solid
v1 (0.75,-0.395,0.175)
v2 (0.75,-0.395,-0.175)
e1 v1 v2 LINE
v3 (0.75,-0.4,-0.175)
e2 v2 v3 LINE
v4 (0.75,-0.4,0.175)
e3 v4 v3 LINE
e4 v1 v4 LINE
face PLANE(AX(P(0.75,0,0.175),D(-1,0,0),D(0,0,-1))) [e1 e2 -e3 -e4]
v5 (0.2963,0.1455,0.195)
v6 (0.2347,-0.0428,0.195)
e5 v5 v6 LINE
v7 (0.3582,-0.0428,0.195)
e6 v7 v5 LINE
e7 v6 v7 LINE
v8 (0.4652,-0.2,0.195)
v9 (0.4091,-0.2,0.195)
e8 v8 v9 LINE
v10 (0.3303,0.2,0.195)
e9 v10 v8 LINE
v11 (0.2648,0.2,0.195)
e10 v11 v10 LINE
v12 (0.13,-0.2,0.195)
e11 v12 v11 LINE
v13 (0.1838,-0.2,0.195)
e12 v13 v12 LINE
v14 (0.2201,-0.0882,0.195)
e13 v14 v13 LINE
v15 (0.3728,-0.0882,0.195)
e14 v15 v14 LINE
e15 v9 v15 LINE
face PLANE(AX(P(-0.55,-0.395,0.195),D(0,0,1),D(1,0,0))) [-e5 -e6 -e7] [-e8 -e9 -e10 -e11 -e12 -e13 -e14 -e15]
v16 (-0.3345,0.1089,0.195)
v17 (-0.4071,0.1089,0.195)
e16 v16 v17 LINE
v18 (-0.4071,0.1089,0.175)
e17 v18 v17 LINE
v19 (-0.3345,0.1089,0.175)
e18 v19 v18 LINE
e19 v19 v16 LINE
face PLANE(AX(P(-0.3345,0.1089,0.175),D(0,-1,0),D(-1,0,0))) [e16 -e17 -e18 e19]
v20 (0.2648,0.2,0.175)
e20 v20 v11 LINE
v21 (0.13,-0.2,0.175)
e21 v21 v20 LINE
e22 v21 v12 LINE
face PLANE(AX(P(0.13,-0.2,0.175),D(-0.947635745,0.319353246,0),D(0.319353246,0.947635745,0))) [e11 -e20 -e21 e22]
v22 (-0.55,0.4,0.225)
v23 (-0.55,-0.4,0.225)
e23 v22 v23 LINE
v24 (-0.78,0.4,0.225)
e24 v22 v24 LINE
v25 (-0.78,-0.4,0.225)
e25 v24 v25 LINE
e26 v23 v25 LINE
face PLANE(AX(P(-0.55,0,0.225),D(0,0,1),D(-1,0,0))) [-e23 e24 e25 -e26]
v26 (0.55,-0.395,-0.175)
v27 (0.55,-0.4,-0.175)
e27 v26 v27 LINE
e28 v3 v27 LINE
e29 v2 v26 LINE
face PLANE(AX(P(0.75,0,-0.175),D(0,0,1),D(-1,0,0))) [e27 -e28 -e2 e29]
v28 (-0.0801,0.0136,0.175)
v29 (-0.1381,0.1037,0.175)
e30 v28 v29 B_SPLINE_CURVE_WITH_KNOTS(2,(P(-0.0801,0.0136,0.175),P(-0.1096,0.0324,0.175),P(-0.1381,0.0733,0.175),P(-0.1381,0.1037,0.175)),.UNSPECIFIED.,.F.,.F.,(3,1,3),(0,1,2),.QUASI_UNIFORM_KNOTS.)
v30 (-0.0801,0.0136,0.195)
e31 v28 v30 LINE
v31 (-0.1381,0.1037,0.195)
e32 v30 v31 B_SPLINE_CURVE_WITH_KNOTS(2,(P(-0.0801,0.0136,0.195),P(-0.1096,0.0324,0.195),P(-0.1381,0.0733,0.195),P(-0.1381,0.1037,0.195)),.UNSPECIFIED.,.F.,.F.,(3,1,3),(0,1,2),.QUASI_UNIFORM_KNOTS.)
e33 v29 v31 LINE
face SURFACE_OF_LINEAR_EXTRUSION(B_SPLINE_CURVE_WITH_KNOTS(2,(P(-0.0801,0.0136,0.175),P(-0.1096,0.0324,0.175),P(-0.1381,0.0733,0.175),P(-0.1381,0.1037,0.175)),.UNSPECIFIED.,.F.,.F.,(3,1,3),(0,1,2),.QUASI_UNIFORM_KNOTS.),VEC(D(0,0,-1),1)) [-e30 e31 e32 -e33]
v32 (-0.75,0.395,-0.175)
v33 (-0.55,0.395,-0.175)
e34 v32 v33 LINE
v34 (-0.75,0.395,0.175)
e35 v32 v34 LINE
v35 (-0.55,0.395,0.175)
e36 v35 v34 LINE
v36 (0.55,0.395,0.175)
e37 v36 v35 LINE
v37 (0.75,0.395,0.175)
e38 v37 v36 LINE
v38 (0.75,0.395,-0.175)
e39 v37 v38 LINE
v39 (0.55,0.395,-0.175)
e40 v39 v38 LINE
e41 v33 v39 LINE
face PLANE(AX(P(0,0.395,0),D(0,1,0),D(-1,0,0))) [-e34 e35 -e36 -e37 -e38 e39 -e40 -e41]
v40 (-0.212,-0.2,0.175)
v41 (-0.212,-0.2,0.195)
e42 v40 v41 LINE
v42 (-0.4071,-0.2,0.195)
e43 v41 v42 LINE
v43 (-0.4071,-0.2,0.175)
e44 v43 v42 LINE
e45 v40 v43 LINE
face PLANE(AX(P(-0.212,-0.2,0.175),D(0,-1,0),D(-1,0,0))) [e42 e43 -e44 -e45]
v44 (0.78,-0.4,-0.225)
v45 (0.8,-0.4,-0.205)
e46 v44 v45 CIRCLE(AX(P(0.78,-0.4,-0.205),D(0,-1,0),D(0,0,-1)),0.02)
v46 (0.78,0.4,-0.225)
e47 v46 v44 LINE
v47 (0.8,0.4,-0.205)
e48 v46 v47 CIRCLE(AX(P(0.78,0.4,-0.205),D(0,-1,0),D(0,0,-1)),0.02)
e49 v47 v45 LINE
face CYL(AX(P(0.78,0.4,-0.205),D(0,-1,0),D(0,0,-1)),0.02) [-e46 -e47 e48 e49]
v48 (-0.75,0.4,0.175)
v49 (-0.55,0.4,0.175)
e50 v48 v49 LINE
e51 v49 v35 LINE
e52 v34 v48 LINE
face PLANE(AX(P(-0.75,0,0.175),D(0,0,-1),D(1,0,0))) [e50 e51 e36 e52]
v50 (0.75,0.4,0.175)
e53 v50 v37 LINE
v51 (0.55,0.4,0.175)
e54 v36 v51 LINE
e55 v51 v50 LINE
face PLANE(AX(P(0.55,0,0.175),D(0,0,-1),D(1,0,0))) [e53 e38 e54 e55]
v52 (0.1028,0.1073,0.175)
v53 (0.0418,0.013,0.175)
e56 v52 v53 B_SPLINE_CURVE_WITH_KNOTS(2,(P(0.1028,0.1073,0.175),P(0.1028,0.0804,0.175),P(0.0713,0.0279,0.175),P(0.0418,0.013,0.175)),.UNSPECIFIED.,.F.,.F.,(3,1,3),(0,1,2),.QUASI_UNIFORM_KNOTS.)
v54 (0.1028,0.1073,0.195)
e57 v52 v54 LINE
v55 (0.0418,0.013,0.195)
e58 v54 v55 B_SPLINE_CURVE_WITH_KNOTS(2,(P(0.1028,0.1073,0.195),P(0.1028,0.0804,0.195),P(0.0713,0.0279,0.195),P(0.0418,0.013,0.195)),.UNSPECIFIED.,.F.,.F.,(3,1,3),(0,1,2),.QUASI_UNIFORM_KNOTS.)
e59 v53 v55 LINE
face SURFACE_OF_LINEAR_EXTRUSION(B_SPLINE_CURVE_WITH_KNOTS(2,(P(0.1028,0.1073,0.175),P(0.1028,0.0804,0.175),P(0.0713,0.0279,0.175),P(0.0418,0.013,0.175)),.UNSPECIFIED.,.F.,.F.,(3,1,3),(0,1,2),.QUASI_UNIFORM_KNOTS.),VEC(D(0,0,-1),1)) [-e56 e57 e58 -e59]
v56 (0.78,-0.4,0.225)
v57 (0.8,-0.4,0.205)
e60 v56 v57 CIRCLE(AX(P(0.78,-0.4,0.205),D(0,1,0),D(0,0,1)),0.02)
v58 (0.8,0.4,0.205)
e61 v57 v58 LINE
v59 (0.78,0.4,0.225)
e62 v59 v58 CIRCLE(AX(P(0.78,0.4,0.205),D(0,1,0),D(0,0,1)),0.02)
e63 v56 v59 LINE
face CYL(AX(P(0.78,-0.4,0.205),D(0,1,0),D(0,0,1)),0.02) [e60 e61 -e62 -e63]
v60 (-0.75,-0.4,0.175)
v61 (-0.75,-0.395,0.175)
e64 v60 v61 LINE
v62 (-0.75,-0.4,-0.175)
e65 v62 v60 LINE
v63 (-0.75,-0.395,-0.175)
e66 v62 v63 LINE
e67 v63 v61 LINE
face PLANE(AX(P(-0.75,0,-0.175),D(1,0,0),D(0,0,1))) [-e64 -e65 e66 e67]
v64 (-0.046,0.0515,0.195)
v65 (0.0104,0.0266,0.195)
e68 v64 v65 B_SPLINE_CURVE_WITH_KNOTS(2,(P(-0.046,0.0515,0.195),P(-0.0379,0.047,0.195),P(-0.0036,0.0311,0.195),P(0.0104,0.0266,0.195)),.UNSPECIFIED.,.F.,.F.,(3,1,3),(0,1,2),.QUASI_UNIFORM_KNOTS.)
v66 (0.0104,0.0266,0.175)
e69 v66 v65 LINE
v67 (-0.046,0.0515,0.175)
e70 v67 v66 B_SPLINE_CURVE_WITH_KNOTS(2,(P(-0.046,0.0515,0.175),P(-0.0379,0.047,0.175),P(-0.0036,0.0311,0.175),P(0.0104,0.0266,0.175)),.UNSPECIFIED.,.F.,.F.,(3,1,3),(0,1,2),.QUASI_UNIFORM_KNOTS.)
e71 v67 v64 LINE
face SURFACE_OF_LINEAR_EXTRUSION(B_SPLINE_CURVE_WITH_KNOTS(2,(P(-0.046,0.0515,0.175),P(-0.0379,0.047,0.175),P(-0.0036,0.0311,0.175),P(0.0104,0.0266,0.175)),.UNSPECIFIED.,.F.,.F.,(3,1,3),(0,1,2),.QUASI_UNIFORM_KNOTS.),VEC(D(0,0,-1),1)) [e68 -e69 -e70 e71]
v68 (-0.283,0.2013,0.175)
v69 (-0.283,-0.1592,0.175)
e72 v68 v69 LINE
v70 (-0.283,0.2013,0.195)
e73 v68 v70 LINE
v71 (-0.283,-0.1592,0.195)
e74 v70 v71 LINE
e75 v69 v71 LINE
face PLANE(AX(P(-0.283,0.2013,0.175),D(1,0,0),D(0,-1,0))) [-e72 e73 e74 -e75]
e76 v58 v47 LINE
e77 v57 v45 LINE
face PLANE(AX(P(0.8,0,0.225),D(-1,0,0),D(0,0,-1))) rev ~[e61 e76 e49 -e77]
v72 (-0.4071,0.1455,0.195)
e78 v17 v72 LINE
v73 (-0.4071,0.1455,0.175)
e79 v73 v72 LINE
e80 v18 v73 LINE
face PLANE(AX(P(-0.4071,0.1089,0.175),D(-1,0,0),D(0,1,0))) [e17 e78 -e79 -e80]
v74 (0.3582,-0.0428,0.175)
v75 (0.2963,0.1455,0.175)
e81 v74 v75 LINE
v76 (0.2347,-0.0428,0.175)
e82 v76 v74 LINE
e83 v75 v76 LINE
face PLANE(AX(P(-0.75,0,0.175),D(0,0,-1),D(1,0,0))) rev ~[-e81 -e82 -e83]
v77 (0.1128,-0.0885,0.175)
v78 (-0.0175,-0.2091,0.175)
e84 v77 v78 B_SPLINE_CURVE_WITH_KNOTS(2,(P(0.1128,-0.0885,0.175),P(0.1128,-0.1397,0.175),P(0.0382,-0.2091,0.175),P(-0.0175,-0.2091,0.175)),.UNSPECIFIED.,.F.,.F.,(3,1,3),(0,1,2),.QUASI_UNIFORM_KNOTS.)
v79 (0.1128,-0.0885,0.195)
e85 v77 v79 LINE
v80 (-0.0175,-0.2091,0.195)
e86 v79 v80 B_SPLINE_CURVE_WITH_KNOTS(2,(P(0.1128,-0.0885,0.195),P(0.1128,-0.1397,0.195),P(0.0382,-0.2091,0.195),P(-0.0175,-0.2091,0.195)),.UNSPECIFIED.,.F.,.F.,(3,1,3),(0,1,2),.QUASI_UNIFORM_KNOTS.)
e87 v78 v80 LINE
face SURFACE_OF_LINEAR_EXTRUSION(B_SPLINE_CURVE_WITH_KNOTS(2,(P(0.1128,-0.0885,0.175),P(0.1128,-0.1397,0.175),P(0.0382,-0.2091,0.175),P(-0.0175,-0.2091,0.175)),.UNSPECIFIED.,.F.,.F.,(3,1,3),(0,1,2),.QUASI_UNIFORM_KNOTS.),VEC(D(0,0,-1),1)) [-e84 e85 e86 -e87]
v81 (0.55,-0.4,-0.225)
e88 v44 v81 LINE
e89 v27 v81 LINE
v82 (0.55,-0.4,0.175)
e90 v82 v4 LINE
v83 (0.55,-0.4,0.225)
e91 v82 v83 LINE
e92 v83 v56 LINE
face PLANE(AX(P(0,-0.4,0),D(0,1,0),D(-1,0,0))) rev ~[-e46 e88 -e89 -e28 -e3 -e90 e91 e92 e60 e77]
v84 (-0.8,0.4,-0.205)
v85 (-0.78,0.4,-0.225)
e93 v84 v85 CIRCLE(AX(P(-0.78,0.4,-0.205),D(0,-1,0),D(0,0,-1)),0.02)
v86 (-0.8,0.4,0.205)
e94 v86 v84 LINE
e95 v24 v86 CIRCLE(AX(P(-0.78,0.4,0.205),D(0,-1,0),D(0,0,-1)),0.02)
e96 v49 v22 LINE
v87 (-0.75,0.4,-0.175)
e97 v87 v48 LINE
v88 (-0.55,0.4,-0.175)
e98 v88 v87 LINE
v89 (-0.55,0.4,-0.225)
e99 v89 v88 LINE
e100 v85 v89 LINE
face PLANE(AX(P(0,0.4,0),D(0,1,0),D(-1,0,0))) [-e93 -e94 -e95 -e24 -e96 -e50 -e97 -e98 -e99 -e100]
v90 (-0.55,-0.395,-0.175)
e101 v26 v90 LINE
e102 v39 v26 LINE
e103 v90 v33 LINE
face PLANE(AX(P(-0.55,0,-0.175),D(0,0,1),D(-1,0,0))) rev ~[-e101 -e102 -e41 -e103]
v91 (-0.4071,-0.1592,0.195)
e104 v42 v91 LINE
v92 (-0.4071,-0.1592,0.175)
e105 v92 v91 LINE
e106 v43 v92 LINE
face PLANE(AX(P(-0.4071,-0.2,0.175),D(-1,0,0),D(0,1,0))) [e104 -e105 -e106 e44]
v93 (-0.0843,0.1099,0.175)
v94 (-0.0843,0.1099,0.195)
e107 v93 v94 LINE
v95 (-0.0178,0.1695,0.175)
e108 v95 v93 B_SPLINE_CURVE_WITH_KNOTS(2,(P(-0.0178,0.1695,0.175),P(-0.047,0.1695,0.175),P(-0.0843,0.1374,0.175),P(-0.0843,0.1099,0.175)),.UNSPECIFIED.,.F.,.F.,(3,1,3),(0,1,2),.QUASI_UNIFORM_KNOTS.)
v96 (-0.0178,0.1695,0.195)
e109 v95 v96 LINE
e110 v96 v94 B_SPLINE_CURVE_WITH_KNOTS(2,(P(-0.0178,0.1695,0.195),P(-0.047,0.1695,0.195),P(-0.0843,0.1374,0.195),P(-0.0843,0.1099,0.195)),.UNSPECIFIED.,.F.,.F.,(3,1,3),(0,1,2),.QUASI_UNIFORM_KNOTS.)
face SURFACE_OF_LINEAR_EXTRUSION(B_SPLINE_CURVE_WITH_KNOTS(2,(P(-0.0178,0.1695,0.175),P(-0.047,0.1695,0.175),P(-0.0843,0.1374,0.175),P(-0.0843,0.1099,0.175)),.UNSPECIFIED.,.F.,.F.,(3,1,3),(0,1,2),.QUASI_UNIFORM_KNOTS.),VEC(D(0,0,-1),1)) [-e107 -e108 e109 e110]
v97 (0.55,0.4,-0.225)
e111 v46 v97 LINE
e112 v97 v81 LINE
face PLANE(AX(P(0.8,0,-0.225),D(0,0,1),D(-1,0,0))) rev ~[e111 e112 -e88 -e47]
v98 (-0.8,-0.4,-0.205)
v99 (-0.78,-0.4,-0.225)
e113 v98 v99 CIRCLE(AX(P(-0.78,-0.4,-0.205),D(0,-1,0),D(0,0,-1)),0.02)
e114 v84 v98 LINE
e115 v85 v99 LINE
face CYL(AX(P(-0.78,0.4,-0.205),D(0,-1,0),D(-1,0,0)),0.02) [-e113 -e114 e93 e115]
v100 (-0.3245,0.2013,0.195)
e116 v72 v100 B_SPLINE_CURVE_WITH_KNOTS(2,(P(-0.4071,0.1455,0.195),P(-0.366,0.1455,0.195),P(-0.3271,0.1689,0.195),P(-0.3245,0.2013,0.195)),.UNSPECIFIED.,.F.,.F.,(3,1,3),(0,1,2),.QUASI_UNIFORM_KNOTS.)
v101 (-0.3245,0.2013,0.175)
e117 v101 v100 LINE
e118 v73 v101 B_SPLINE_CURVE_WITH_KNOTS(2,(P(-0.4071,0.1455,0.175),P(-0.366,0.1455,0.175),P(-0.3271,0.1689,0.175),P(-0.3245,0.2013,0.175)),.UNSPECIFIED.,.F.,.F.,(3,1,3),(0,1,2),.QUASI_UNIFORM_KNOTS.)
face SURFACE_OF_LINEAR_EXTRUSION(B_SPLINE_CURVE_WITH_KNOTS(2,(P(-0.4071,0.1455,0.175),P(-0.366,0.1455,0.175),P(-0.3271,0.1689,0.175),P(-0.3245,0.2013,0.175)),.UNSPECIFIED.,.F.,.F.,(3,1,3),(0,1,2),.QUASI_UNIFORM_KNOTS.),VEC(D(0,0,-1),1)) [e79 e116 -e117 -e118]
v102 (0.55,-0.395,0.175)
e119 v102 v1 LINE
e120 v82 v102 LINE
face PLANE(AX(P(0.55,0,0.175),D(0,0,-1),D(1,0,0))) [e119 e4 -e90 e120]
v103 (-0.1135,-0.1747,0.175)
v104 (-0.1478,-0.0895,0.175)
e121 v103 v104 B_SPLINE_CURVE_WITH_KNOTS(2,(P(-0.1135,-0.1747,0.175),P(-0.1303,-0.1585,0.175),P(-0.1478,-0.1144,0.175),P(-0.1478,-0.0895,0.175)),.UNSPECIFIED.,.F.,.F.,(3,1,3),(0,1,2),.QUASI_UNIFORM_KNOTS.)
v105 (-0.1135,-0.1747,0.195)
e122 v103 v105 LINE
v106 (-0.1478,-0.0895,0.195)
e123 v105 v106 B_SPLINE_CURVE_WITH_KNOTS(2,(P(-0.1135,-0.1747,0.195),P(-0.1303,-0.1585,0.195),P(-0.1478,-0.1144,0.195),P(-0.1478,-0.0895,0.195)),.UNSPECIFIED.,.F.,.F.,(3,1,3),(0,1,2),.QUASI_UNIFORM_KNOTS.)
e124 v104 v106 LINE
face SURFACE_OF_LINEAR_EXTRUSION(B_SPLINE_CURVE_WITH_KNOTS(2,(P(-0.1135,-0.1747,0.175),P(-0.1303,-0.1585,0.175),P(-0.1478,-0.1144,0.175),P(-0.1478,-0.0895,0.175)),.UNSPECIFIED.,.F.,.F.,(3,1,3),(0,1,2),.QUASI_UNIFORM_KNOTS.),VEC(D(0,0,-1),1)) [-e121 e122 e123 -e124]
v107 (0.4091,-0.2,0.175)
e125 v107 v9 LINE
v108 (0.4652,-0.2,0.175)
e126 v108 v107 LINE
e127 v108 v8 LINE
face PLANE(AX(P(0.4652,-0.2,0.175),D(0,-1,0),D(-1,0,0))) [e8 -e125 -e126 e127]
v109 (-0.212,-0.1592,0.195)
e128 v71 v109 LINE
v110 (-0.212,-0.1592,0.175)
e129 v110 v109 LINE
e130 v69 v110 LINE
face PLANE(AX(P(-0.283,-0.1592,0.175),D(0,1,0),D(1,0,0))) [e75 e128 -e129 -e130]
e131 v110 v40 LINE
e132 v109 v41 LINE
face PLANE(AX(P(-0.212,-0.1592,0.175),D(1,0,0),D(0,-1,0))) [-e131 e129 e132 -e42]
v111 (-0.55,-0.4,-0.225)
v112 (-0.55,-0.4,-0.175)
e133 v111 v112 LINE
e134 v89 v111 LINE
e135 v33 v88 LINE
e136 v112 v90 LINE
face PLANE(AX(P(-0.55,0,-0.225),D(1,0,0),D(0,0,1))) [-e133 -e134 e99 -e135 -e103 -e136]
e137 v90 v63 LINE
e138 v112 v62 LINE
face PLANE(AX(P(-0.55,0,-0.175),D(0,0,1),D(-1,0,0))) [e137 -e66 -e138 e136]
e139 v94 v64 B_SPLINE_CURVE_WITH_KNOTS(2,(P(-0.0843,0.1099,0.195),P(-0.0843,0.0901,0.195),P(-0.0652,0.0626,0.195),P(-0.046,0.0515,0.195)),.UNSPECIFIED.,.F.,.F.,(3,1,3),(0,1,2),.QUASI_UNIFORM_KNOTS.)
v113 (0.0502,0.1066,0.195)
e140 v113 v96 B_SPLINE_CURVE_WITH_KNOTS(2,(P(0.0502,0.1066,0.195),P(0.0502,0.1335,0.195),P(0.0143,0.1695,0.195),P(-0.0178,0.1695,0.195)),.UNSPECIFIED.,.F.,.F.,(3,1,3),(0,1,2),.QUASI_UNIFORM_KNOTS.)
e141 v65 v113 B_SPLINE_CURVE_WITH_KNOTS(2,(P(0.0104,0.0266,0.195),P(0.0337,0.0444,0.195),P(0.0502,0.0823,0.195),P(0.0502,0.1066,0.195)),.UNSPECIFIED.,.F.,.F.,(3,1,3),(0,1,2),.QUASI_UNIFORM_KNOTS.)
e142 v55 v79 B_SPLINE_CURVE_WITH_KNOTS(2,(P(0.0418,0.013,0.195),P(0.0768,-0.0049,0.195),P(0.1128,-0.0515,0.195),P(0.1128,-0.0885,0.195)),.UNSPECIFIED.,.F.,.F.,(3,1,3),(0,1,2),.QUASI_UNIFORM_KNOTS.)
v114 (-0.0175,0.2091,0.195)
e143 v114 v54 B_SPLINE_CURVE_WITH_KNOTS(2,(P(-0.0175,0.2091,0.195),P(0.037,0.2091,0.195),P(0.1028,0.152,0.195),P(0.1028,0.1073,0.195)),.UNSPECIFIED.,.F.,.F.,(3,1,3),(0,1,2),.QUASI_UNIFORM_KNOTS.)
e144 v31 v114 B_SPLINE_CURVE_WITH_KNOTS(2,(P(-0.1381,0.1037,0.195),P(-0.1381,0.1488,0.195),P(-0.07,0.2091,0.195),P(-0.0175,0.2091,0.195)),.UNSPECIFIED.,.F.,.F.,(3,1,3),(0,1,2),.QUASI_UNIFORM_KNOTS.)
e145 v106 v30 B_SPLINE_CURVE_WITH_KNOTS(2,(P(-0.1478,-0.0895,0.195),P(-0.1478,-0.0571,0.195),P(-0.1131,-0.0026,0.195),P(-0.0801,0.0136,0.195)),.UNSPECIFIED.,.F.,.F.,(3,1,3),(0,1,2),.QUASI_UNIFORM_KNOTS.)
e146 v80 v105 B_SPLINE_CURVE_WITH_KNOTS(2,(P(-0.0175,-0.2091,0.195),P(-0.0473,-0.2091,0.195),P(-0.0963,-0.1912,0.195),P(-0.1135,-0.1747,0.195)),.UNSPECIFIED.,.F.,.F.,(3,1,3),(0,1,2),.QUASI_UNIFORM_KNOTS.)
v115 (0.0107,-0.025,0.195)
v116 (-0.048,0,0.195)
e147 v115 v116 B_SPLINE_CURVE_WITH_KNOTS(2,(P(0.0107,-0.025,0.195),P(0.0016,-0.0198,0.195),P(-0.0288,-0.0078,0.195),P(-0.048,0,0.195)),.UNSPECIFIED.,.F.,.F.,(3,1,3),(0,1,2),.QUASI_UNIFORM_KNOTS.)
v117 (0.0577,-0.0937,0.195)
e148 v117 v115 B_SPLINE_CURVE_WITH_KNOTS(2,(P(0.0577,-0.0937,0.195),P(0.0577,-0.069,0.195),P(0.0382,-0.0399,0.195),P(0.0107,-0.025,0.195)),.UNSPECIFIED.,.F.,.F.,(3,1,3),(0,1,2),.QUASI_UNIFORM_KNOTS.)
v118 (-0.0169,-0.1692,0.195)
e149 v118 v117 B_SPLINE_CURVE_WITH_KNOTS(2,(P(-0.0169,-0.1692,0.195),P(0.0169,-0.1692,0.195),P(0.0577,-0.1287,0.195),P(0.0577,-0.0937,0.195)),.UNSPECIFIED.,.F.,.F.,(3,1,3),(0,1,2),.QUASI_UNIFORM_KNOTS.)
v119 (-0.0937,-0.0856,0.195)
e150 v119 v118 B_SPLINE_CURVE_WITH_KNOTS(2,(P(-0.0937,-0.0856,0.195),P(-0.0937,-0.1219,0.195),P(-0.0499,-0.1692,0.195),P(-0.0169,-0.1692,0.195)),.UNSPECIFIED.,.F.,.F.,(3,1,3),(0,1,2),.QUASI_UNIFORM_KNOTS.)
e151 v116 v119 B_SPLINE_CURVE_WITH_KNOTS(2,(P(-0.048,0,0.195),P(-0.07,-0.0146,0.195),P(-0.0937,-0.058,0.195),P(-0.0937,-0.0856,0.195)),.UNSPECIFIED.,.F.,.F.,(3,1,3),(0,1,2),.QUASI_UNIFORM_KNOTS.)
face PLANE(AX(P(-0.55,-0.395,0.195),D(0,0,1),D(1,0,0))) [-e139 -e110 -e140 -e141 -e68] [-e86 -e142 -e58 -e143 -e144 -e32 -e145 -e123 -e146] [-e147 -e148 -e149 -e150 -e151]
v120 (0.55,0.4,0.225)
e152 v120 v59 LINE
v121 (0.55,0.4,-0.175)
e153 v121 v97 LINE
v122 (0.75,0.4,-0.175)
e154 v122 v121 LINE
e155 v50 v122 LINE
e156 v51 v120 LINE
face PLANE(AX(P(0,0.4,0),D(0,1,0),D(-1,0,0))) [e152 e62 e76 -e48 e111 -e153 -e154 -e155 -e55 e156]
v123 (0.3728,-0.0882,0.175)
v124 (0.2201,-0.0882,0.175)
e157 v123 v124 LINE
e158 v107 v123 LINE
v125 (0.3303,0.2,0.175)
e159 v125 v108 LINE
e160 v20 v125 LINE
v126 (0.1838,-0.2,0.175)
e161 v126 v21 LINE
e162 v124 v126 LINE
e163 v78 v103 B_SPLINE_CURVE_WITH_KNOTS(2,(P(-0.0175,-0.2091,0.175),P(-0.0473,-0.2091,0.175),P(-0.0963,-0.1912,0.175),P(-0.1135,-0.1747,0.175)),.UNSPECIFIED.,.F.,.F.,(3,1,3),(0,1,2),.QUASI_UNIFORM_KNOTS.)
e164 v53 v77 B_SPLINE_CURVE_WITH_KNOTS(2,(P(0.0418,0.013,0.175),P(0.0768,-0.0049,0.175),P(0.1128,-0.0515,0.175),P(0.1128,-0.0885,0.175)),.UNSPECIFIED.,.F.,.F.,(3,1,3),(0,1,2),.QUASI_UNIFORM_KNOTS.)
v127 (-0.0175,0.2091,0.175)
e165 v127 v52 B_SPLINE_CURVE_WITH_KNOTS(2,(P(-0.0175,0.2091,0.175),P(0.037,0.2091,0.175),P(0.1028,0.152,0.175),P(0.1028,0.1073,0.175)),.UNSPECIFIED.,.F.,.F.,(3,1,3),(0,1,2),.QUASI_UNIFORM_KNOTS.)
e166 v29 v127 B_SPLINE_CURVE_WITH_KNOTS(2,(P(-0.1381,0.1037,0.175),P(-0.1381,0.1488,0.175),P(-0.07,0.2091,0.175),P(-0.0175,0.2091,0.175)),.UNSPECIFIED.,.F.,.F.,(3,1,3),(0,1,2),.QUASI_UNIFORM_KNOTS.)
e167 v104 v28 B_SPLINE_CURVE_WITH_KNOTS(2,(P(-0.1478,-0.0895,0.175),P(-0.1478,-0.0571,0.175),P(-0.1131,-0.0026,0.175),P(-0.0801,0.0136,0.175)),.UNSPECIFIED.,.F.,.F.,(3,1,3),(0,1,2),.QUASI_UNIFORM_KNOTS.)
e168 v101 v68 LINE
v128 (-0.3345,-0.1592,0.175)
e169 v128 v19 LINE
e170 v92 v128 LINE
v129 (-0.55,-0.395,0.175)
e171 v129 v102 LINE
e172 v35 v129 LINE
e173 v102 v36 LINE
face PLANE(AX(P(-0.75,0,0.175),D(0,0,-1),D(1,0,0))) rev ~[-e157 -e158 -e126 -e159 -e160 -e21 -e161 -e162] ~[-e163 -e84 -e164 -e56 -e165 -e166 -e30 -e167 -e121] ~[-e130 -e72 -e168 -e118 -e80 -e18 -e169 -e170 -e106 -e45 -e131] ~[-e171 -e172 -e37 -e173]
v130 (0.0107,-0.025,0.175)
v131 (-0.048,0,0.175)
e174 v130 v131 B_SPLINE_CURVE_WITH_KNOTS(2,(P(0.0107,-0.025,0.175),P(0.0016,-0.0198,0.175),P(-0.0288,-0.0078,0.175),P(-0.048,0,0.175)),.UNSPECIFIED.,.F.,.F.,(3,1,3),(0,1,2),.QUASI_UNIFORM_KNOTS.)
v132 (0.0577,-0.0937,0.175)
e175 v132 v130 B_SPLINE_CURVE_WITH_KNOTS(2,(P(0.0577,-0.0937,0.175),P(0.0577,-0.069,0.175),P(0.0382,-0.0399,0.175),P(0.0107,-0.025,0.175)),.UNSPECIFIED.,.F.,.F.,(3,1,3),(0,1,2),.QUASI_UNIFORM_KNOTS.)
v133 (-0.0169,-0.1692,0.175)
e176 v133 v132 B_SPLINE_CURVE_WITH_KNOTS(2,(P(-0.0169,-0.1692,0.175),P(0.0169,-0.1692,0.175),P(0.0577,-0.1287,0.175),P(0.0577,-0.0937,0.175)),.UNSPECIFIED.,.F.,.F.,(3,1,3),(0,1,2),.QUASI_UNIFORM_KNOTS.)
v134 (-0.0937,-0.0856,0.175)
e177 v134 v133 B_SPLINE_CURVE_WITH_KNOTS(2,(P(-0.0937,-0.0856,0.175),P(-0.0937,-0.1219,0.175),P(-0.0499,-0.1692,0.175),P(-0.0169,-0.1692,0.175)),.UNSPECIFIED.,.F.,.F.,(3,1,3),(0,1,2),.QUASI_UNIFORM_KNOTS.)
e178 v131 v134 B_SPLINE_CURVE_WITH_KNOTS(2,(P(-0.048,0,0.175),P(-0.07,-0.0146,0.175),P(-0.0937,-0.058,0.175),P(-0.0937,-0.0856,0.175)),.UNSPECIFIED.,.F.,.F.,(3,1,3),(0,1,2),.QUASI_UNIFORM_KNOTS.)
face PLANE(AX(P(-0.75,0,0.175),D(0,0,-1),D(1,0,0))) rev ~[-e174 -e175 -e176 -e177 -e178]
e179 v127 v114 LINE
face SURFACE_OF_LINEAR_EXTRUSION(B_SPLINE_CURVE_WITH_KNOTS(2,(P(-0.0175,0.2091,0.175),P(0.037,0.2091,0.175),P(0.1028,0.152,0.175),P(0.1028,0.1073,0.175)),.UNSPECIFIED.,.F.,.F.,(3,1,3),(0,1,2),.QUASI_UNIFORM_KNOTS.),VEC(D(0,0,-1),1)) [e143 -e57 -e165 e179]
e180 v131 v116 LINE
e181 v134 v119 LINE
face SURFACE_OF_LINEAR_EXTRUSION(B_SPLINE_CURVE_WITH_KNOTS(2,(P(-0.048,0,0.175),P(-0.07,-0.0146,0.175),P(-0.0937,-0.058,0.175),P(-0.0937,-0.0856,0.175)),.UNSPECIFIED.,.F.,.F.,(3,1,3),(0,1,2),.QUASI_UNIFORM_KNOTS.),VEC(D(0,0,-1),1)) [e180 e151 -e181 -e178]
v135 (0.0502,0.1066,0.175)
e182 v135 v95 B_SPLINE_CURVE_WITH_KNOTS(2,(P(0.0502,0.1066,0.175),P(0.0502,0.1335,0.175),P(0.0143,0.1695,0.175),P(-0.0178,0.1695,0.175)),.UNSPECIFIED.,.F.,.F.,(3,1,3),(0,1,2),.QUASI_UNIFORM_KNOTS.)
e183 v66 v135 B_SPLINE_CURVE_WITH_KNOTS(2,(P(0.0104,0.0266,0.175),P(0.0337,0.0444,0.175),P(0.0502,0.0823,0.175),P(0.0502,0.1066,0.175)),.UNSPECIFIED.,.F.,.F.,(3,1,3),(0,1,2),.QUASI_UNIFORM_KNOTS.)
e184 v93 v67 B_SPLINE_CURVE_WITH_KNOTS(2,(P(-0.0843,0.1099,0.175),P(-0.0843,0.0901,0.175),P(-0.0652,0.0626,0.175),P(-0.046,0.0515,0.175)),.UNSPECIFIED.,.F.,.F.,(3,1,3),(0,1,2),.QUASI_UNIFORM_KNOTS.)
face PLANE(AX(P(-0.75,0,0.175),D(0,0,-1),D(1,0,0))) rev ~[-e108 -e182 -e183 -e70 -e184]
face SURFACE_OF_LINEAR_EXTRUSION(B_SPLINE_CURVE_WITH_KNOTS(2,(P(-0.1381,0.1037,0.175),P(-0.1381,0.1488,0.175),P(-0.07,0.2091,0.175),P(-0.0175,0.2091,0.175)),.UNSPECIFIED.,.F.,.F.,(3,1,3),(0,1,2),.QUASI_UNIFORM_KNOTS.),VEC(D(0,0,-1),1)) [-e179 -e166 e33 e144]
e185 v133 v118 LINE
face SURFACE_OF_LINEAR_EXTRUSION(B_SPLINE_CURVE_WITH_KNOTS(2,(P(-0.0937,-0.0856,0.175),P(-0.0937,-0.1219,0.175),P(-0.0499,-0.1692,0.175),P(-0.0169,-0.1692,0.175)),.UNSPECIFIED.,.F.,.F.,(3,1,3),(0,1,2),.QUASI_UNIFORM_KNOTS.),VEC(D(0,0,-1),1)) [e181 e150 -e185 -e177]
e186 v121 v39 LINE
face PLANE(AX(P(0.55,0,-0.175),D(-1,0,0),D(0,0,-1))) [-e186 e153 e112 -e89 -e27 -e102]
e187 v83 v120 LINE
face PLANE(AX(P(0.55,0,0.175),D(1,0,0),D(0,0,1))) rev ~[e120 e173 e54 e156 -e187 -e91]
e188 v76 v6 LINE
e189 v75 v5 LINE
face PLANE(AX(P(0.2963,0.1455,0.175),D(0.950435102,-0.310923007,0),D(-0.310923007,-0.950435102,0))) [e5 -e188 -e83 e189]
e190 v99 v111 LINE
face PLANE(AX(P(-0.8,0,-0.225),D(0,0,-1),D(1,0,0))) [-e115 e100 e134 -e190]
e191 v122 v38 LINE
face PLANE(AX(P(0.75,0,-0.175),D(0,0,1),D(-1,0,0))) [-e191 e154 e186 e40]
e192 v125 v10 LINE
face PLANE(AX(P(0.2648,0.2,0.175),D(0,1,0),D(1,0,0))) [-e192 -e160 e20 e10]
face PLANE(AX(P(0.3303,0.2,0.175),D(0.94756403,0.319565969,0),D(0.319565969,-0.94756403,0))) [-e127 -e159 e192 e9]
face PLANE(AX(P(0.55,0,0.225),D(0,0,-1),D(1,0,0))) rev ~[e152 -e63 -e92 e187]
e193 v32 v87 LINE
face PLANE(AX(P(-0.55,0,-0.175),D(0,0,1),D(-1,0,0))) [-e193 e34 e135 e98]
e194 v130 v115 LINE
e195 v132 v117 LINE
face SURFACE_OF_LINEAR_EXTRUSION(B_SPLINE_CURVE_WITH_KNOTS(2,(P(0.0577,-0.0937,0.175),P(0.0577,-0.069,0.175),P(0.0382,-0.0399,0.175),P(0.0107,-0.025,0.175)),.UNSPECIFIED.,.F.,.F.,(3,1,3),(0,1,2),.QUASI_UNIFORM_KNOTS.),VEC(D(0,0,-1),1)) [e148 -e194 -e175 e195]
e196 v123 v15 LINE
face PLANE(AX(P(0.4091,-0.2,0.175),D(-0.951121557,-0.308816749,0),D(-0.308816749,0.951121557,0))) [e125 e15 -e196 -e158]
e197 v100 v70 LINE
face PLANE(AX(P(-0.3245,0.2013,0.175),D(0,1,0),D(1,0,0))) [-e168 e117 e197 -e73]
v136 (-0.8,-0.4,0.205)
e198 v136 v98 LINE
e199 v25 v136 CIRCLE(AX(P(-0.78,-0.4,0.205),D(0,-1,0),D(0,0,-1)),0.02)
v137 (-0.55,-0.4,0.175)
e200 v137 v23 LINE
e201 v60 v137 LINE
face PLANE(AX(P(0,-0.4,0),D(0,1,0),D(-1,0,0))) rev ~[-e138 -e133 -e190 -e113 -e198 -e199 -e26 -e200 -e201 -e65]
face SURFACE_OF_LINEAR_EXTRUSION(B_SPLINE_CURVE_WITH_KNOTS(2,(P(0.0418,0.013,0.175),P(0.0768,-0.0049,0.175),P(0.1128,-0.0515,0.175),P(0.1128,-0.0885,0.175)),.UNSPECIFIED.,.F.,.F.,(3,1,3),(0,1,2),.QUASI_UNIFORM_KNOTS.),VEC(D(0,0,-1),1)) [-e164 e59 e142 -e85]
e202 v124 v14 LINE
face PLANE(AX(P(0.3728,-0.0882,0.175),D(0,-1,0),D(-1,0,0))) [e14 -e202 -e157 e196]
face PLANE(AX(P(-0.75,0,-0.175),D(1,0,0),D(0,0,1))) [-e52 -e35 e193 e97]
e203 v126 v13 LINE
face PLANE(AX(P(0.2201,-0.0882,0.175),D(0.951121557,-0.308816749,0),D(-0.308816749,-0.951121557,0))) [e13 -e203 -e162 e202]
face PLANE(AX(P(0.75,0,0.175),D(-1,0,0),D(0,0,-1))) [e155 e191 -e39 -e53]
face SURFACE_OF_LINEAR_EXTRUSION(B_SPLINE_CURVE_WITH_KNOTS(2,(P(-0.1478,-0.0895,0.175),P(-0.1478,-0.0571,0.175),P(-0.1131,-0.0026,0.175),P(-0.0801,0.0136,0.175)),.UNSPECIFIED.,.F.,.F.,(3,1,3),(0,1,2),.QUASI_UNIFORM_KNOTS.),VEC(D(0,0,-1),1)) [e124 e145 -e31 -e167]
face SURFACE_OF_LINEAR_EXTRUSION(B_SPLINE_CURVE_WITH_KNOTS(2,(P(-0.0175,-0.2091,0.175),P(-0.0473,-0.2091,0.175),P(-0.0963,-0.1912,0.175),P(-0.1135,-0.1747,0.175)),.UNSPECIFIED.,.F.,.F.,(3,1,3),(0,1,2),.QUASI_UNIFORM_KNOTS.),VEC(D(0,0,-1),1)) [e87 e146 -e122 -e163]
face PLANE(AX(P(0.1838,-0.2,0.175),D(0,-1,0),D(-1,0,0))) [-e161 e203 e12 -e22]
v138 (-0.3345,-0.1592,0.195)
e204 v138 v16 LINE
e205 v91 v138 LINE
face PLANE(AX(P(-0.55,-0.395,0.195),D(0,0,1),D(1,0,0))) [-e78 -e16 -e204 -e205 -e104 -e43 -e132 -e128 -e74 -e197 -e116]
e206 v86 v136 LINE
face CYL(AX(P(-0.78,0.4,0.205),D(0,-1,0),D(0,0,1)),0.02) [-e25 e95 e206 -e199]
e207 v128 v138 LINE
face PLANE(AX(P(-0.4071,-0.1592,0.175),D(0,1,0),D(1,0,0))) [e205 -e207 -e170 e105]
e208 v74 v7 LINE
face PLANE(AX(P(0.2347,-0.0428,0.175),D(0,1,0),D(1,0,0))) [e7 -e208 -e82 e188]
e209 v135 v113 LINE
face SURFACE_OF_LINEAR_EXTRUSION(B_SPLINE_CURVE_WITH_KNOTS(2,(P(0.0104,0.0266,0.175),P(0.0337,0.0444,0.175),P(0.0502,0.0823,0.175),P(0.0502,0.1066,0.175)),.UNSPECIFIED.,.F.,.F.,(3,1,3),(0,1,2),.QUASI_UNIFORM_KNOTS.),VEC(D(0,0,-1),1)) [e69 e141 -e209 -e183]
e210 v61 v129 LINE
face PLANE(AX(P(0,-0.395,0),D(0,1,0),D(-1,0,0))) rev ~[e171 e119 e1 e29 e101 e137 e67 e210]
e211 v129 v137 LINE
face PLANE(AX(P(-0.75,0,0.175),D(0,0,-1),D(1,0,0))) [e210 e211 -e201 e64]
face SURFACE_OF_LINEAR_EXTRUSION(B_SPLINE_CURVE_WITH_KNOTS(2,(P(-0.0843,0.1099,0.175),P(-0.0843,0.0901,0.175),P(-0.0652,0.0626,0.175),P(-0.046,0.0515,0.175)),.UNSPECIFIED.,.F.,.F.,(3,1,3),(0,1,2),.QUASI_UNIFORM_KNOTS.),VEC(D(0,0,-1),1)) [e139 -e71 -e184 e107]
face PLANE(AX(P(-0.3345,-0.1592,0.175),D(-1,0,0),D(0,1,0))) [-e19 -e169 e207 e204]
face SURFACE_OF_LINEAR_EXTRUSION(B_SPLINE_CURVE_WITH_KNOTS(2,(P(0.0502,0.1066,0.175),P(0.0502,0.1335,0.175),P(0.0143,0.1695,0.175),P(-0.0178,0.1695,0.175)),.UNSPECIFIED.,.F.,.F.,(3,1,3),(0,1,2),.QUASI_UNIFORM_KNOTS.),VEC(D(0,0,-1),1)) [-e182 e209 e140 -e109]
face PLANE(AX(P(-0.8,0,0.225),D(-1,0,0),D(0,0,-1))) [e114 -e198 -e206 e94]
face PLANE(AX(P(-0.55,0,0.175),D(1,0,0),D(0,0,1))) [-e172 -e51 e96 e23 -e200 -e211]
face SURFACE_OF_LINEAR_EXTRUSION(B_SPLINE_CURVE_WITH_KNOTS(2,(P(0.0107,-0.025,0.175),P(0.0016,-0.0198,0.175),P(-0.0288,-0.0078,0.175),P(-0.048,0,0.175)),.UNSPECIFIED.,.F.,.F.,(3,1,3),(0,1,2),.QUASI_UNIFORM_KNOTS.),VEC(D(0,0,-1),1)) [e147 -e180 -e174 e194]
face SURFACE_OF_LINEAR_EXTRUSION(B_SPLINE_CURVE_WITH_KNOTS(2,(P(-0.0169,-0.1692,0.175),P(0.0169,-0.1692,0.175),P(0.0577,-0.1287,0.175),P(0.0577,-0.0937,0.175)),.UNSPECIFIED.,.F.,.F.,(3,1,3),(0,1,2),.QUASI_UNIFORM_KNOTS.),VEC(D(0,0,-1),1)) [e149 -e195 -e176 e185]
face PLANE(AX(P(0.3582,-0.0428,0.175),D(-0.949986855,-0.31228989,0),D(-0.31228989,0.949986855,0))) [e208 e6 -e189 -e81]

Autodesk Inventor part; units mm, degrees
ref_plane "YZ Plane" through (0, 0, 0) normal (1, 0, 0) x (0, 1, 0)
ref_plane "XZ Plane" through (0, 0, 0) normal (0, 1, 0) x (-1, 0, 0)
ref_plane "XY Plane" through (0, 0, 0) normal (0, 0, 1) x (1, 0, 0)
sketch "Sketch1" plane through (0, 0, 0) normal (0, 1, 0) x (-1, 0, 0)
  line L0 (0.75, 0.175) -> (-0.75, 0.175)
  line L1 (-0.75, 0.175) -> (-0.75, -0.175)
  line L2 (-0.75, -0.175) -> (0.75, -0.175)
  line L3 (0.75, -0.175) -> (0.75, 0.175)
  line L4 (0.55, 0.175) -> (0.55, 0.225)
  line L5 (0.55, 0.225) -> (0.8, 0.225)
  line L6 (0.8, 0.225) -> (0.8, -0.225)
  line L7 (0.8, -0.225) -> (0.55, -0.225)
  line L8 (0.55, -0.225) -> (0.55, -0.175)
  line L9 (-0.55, 0.175) -> (-0.55, 0.225)
  line L10 (-0.55, 0.225) -> (-0.8, 0.225)
  line L11 (-0.8, 0.225) -> (-0.8, -0.225)
  line L12 (-0.8, -0.225) -> (-0.55, -0.225)
  line L13 (-0.55, -0.175) -> (-0.55, -0.225)
  line L14 (0.55, 0.175) -> (-0.55, 0.175)
  point P0 (0, 0)
  point P1 (0, 0.175)
  point P2 (0.75, 0)
  dimension "d0" = 1.6
  dimension "d1" = 0.05
  dimension "d2" = 0.05
  dimension "d3" = 0.45
  dimension "d4" = 0.25
extrude "Extrusion1" add sketch "Sketch1" along normal mid plane 0.8 contours L0 L4 L5 L6 L7 L8 L2 L3 | L0 L1 L2 L13 L12 L11 L10 L9
extrude "Extrusion2" add sketch "Sketch1" along normal mid plane 0.79 contours L3 L2 L1 L0
sketch "Sketch2" plane through (-0.55, -0.395, 0.175) normal (0, 0, 1) x (1, 0, 0)
  line L0 (0, 0) -> (0, 0.79) projected
  line L1 (1.1, 0) -> (0, 0) projected
  line L2 (1.1, 0) -> (1.1, 0.79) projected
  line L3 (0, 0.79) -> (1.1, 0.79) projected
  line L4 (0, 0.395) -> (1.1, 0.395) construction
  line L5 (0.338, 0.195) -> (0.1429, 0.195)
  line L6 (0.1429, 0.195) -> (0.1429, 0.2358)
  line L7 (0.1429, 0.2358) -> (0.2155, 0.2358)
  line L8 (0.2155, 0.2358) -> (0.2155, 0.5039)
  line L9 (0.2155, 0.5039) -> (0.1429, 0.5039)
  line L10 (0.1429, 0.5039) -> (0.1429, 0.5405)
  spline S0 degree 2 poles (0.1429, 0.5405) (0.184, 0.5405) (0.2229, 0.5639) (0.2255, 0.5963) knots 0 0 0 1 2 2 2
  line L11 (0.2255, 0.5963) -> (0.267, 0.5963)
  line L12 (0.267, 0.5963) -> (0.267, 0.2358)
  line L13 (0.267, 0.2358) -> (0.338, 0.2358)
  line L14 (0.338, 0.2358) -> (0.338, 0.195)
  spline S1 degree 2 poles (0.5325, 0.1859) (0.5027, 0.1859) (0.4537, 0.2038) (0.4365, 0.2203) knots 0 0 0 1 2 2 2
  spline S2 degree 2 poles (0.4365, 0.2203) (0.4197, 0.2365) (0.4022, 0.2806) (0.4022, 0.3055) knots 0 0 0 1 2 2 2
  spline S3 degree 2 poles (0.4022, 0.3055) (0.4022, 0.3379) (0.4369, 0.3924) (0.4699, 0.4086) knots 0 0 0 1 2 2 2
  line L15 (0.4699, 0.4086) -> (0.4699, 0.4102)
  spline S4 degree 2 poles (0.4699, 0.4102) (0.4404, 0.4274) (0.4119, 0.4683) (0.4119, 0.4987) knots 0 0 0 1 2 2 2
  spline S5 degree 2 poles (0.4119, 0.4987) (0.4119, 0.5438) (0.48, 0.6041) (0.5325, 0.6041) knots 0 0 0 1 2 2 2
  spline S6 degree 2 poles (0.5325, 0.6041) (0.587, 0.6041) (0.6528, 0.547) (0.6528, 0.5023) knots 0 0 0 1 2 2 2
  spline S7 degree 2 poles (0.6528, 0.5023) (0.6528, 0.4754) (0.6213, 0.4229) (0.5918, 0.408) knots 0 0 0 1 2 2 2
  line L16 (0.5918, 0.408) -> (0.5918, 0.4063)
  spline S8 degree 2 poles (0.5918, 0.4063) (0.6268, 0.3901) (0.6628, 0.3435) (0.6628, 0.3065) knots 0 0 0 1 2 2 2
  spline S9 degree 2 poles (0.6628, 0.3065) (0.6628, 0.2553) (0.5882, 0.1859) (0.5325, 0.1859) knots 0 0 0 1 2 2 2
  spline S10 degree 2 poles (0.6077, 0.3013) (0.6077, 0.326) (0.5882, 0.3551) (0.5607, 0.37) knots 0 0 0 1 2 2 2
  spline S11 degree 2 poles (0.5607, 0.37) (0.5516, 0.3752) (0.5212, 0.3872) (0.502, 0.395) knots 0 0 0 1 2 2 2
  spline S12 degree 2 poles (0.502, 0.395) (0.48, 0.3804) (0.4563, 0.337) (0.4563, 0.3094) knots 0 0 0 1 2 2 2
  spline S13 degree 2 poles (0.4563, 0.3094) (0.4563, 0.2731) (0.5001, 0.2258) (0.5331, 0.2258) knots 0 0 0 1 2 2 2
  spline S14 degree 2 poles (0.5331, 0.2258) (0.5669, 0.2258) (0.6077, 0.2663) (0.6077, 0.3013) knots 0 0 0 1 2 2 2
  spline S15 degree 2 poles (0.6002, 0.5016) (0.6002, 0.5285) (0.5643, 0.5645) (0.5322, 0.5645) knots 0 0 0 1 2 2 2
  spline S16 degree 2 poles (0.5322, 0.5645) (0.503, 0.5645) (0.4657, 0.5324) (0.4657, 0.5049) knots 0 0 0 1 2 2 2
  spline S17 degree 2 poles (0.4657, 0.5049) (0.4657, 0.4851) (0.4848, 0.4576) (0.504, 0.4465) knots 0 0 0 1 2 2 2
  spline S18 degree 2 poles (0.504, 0.4465) (0.5121, 0.442) (0.5464, 0.4261) (0.5604, 0.4216) knots 0 0 0 1 2 2 2
  spline S19 degree 2 poles (0.5604, 0.4216) (0.5837, 0.4394) (0.6002, 0.4773) (0.6002, 0.5016) knots 0 0 0 1 2 2 2
  line L17 (0.68, 0.195) -> (0.8148, 0.595)
  line L18 (0.8148, 0.595) -> (0.8803, 0.595)
  line L19 (0.8803, 0.595) -> (1.0152, 0.195)
  line L20 (1.0152, 0.195) -> (0.9591, 0.195)
  line L21 (0.9591, 0.195) -> (0.9228, 0.3068)
  line L22 (0.9228, 0.3068) -> (0.7701, 0.3068)
  line L23 (0.7701, 0.3068) -> (0.7338, 0.195)
  line L24 (0.7338, 0.195) -> (0.68, 0.195)
  line L25 (0.9082, 0.3522) -> (0.8463, 0.5405)
  line L26 (0.8463, 0.5405) -> (0.7847, 0.3522)
  line L27 (0.7847, 0.3522) -> (0.9082, 0.3522)
  point P0 (0.55, 0.395)
extrude "Extrusion3" add sketch "Sketch2" along normal blind 0.02 contours L5 L6 L7 L8 L9 L10 S0 L11 L12 L13 L14 | S1 S2 S3 S4 S5 S6 S7 S8 S9 | L17 L18 L19 L20 L21 L22 L23 L24
fillet "Fillet1" radius 0.02 4 edges at (-0.8, 0, 0.225) (-0.8, 0, -0.225) (0.8, 0, 0.225) (0.8, 0, -0.225)
equation "\"d2\" = d1"
properties part number "21-1001" material "Copper"
